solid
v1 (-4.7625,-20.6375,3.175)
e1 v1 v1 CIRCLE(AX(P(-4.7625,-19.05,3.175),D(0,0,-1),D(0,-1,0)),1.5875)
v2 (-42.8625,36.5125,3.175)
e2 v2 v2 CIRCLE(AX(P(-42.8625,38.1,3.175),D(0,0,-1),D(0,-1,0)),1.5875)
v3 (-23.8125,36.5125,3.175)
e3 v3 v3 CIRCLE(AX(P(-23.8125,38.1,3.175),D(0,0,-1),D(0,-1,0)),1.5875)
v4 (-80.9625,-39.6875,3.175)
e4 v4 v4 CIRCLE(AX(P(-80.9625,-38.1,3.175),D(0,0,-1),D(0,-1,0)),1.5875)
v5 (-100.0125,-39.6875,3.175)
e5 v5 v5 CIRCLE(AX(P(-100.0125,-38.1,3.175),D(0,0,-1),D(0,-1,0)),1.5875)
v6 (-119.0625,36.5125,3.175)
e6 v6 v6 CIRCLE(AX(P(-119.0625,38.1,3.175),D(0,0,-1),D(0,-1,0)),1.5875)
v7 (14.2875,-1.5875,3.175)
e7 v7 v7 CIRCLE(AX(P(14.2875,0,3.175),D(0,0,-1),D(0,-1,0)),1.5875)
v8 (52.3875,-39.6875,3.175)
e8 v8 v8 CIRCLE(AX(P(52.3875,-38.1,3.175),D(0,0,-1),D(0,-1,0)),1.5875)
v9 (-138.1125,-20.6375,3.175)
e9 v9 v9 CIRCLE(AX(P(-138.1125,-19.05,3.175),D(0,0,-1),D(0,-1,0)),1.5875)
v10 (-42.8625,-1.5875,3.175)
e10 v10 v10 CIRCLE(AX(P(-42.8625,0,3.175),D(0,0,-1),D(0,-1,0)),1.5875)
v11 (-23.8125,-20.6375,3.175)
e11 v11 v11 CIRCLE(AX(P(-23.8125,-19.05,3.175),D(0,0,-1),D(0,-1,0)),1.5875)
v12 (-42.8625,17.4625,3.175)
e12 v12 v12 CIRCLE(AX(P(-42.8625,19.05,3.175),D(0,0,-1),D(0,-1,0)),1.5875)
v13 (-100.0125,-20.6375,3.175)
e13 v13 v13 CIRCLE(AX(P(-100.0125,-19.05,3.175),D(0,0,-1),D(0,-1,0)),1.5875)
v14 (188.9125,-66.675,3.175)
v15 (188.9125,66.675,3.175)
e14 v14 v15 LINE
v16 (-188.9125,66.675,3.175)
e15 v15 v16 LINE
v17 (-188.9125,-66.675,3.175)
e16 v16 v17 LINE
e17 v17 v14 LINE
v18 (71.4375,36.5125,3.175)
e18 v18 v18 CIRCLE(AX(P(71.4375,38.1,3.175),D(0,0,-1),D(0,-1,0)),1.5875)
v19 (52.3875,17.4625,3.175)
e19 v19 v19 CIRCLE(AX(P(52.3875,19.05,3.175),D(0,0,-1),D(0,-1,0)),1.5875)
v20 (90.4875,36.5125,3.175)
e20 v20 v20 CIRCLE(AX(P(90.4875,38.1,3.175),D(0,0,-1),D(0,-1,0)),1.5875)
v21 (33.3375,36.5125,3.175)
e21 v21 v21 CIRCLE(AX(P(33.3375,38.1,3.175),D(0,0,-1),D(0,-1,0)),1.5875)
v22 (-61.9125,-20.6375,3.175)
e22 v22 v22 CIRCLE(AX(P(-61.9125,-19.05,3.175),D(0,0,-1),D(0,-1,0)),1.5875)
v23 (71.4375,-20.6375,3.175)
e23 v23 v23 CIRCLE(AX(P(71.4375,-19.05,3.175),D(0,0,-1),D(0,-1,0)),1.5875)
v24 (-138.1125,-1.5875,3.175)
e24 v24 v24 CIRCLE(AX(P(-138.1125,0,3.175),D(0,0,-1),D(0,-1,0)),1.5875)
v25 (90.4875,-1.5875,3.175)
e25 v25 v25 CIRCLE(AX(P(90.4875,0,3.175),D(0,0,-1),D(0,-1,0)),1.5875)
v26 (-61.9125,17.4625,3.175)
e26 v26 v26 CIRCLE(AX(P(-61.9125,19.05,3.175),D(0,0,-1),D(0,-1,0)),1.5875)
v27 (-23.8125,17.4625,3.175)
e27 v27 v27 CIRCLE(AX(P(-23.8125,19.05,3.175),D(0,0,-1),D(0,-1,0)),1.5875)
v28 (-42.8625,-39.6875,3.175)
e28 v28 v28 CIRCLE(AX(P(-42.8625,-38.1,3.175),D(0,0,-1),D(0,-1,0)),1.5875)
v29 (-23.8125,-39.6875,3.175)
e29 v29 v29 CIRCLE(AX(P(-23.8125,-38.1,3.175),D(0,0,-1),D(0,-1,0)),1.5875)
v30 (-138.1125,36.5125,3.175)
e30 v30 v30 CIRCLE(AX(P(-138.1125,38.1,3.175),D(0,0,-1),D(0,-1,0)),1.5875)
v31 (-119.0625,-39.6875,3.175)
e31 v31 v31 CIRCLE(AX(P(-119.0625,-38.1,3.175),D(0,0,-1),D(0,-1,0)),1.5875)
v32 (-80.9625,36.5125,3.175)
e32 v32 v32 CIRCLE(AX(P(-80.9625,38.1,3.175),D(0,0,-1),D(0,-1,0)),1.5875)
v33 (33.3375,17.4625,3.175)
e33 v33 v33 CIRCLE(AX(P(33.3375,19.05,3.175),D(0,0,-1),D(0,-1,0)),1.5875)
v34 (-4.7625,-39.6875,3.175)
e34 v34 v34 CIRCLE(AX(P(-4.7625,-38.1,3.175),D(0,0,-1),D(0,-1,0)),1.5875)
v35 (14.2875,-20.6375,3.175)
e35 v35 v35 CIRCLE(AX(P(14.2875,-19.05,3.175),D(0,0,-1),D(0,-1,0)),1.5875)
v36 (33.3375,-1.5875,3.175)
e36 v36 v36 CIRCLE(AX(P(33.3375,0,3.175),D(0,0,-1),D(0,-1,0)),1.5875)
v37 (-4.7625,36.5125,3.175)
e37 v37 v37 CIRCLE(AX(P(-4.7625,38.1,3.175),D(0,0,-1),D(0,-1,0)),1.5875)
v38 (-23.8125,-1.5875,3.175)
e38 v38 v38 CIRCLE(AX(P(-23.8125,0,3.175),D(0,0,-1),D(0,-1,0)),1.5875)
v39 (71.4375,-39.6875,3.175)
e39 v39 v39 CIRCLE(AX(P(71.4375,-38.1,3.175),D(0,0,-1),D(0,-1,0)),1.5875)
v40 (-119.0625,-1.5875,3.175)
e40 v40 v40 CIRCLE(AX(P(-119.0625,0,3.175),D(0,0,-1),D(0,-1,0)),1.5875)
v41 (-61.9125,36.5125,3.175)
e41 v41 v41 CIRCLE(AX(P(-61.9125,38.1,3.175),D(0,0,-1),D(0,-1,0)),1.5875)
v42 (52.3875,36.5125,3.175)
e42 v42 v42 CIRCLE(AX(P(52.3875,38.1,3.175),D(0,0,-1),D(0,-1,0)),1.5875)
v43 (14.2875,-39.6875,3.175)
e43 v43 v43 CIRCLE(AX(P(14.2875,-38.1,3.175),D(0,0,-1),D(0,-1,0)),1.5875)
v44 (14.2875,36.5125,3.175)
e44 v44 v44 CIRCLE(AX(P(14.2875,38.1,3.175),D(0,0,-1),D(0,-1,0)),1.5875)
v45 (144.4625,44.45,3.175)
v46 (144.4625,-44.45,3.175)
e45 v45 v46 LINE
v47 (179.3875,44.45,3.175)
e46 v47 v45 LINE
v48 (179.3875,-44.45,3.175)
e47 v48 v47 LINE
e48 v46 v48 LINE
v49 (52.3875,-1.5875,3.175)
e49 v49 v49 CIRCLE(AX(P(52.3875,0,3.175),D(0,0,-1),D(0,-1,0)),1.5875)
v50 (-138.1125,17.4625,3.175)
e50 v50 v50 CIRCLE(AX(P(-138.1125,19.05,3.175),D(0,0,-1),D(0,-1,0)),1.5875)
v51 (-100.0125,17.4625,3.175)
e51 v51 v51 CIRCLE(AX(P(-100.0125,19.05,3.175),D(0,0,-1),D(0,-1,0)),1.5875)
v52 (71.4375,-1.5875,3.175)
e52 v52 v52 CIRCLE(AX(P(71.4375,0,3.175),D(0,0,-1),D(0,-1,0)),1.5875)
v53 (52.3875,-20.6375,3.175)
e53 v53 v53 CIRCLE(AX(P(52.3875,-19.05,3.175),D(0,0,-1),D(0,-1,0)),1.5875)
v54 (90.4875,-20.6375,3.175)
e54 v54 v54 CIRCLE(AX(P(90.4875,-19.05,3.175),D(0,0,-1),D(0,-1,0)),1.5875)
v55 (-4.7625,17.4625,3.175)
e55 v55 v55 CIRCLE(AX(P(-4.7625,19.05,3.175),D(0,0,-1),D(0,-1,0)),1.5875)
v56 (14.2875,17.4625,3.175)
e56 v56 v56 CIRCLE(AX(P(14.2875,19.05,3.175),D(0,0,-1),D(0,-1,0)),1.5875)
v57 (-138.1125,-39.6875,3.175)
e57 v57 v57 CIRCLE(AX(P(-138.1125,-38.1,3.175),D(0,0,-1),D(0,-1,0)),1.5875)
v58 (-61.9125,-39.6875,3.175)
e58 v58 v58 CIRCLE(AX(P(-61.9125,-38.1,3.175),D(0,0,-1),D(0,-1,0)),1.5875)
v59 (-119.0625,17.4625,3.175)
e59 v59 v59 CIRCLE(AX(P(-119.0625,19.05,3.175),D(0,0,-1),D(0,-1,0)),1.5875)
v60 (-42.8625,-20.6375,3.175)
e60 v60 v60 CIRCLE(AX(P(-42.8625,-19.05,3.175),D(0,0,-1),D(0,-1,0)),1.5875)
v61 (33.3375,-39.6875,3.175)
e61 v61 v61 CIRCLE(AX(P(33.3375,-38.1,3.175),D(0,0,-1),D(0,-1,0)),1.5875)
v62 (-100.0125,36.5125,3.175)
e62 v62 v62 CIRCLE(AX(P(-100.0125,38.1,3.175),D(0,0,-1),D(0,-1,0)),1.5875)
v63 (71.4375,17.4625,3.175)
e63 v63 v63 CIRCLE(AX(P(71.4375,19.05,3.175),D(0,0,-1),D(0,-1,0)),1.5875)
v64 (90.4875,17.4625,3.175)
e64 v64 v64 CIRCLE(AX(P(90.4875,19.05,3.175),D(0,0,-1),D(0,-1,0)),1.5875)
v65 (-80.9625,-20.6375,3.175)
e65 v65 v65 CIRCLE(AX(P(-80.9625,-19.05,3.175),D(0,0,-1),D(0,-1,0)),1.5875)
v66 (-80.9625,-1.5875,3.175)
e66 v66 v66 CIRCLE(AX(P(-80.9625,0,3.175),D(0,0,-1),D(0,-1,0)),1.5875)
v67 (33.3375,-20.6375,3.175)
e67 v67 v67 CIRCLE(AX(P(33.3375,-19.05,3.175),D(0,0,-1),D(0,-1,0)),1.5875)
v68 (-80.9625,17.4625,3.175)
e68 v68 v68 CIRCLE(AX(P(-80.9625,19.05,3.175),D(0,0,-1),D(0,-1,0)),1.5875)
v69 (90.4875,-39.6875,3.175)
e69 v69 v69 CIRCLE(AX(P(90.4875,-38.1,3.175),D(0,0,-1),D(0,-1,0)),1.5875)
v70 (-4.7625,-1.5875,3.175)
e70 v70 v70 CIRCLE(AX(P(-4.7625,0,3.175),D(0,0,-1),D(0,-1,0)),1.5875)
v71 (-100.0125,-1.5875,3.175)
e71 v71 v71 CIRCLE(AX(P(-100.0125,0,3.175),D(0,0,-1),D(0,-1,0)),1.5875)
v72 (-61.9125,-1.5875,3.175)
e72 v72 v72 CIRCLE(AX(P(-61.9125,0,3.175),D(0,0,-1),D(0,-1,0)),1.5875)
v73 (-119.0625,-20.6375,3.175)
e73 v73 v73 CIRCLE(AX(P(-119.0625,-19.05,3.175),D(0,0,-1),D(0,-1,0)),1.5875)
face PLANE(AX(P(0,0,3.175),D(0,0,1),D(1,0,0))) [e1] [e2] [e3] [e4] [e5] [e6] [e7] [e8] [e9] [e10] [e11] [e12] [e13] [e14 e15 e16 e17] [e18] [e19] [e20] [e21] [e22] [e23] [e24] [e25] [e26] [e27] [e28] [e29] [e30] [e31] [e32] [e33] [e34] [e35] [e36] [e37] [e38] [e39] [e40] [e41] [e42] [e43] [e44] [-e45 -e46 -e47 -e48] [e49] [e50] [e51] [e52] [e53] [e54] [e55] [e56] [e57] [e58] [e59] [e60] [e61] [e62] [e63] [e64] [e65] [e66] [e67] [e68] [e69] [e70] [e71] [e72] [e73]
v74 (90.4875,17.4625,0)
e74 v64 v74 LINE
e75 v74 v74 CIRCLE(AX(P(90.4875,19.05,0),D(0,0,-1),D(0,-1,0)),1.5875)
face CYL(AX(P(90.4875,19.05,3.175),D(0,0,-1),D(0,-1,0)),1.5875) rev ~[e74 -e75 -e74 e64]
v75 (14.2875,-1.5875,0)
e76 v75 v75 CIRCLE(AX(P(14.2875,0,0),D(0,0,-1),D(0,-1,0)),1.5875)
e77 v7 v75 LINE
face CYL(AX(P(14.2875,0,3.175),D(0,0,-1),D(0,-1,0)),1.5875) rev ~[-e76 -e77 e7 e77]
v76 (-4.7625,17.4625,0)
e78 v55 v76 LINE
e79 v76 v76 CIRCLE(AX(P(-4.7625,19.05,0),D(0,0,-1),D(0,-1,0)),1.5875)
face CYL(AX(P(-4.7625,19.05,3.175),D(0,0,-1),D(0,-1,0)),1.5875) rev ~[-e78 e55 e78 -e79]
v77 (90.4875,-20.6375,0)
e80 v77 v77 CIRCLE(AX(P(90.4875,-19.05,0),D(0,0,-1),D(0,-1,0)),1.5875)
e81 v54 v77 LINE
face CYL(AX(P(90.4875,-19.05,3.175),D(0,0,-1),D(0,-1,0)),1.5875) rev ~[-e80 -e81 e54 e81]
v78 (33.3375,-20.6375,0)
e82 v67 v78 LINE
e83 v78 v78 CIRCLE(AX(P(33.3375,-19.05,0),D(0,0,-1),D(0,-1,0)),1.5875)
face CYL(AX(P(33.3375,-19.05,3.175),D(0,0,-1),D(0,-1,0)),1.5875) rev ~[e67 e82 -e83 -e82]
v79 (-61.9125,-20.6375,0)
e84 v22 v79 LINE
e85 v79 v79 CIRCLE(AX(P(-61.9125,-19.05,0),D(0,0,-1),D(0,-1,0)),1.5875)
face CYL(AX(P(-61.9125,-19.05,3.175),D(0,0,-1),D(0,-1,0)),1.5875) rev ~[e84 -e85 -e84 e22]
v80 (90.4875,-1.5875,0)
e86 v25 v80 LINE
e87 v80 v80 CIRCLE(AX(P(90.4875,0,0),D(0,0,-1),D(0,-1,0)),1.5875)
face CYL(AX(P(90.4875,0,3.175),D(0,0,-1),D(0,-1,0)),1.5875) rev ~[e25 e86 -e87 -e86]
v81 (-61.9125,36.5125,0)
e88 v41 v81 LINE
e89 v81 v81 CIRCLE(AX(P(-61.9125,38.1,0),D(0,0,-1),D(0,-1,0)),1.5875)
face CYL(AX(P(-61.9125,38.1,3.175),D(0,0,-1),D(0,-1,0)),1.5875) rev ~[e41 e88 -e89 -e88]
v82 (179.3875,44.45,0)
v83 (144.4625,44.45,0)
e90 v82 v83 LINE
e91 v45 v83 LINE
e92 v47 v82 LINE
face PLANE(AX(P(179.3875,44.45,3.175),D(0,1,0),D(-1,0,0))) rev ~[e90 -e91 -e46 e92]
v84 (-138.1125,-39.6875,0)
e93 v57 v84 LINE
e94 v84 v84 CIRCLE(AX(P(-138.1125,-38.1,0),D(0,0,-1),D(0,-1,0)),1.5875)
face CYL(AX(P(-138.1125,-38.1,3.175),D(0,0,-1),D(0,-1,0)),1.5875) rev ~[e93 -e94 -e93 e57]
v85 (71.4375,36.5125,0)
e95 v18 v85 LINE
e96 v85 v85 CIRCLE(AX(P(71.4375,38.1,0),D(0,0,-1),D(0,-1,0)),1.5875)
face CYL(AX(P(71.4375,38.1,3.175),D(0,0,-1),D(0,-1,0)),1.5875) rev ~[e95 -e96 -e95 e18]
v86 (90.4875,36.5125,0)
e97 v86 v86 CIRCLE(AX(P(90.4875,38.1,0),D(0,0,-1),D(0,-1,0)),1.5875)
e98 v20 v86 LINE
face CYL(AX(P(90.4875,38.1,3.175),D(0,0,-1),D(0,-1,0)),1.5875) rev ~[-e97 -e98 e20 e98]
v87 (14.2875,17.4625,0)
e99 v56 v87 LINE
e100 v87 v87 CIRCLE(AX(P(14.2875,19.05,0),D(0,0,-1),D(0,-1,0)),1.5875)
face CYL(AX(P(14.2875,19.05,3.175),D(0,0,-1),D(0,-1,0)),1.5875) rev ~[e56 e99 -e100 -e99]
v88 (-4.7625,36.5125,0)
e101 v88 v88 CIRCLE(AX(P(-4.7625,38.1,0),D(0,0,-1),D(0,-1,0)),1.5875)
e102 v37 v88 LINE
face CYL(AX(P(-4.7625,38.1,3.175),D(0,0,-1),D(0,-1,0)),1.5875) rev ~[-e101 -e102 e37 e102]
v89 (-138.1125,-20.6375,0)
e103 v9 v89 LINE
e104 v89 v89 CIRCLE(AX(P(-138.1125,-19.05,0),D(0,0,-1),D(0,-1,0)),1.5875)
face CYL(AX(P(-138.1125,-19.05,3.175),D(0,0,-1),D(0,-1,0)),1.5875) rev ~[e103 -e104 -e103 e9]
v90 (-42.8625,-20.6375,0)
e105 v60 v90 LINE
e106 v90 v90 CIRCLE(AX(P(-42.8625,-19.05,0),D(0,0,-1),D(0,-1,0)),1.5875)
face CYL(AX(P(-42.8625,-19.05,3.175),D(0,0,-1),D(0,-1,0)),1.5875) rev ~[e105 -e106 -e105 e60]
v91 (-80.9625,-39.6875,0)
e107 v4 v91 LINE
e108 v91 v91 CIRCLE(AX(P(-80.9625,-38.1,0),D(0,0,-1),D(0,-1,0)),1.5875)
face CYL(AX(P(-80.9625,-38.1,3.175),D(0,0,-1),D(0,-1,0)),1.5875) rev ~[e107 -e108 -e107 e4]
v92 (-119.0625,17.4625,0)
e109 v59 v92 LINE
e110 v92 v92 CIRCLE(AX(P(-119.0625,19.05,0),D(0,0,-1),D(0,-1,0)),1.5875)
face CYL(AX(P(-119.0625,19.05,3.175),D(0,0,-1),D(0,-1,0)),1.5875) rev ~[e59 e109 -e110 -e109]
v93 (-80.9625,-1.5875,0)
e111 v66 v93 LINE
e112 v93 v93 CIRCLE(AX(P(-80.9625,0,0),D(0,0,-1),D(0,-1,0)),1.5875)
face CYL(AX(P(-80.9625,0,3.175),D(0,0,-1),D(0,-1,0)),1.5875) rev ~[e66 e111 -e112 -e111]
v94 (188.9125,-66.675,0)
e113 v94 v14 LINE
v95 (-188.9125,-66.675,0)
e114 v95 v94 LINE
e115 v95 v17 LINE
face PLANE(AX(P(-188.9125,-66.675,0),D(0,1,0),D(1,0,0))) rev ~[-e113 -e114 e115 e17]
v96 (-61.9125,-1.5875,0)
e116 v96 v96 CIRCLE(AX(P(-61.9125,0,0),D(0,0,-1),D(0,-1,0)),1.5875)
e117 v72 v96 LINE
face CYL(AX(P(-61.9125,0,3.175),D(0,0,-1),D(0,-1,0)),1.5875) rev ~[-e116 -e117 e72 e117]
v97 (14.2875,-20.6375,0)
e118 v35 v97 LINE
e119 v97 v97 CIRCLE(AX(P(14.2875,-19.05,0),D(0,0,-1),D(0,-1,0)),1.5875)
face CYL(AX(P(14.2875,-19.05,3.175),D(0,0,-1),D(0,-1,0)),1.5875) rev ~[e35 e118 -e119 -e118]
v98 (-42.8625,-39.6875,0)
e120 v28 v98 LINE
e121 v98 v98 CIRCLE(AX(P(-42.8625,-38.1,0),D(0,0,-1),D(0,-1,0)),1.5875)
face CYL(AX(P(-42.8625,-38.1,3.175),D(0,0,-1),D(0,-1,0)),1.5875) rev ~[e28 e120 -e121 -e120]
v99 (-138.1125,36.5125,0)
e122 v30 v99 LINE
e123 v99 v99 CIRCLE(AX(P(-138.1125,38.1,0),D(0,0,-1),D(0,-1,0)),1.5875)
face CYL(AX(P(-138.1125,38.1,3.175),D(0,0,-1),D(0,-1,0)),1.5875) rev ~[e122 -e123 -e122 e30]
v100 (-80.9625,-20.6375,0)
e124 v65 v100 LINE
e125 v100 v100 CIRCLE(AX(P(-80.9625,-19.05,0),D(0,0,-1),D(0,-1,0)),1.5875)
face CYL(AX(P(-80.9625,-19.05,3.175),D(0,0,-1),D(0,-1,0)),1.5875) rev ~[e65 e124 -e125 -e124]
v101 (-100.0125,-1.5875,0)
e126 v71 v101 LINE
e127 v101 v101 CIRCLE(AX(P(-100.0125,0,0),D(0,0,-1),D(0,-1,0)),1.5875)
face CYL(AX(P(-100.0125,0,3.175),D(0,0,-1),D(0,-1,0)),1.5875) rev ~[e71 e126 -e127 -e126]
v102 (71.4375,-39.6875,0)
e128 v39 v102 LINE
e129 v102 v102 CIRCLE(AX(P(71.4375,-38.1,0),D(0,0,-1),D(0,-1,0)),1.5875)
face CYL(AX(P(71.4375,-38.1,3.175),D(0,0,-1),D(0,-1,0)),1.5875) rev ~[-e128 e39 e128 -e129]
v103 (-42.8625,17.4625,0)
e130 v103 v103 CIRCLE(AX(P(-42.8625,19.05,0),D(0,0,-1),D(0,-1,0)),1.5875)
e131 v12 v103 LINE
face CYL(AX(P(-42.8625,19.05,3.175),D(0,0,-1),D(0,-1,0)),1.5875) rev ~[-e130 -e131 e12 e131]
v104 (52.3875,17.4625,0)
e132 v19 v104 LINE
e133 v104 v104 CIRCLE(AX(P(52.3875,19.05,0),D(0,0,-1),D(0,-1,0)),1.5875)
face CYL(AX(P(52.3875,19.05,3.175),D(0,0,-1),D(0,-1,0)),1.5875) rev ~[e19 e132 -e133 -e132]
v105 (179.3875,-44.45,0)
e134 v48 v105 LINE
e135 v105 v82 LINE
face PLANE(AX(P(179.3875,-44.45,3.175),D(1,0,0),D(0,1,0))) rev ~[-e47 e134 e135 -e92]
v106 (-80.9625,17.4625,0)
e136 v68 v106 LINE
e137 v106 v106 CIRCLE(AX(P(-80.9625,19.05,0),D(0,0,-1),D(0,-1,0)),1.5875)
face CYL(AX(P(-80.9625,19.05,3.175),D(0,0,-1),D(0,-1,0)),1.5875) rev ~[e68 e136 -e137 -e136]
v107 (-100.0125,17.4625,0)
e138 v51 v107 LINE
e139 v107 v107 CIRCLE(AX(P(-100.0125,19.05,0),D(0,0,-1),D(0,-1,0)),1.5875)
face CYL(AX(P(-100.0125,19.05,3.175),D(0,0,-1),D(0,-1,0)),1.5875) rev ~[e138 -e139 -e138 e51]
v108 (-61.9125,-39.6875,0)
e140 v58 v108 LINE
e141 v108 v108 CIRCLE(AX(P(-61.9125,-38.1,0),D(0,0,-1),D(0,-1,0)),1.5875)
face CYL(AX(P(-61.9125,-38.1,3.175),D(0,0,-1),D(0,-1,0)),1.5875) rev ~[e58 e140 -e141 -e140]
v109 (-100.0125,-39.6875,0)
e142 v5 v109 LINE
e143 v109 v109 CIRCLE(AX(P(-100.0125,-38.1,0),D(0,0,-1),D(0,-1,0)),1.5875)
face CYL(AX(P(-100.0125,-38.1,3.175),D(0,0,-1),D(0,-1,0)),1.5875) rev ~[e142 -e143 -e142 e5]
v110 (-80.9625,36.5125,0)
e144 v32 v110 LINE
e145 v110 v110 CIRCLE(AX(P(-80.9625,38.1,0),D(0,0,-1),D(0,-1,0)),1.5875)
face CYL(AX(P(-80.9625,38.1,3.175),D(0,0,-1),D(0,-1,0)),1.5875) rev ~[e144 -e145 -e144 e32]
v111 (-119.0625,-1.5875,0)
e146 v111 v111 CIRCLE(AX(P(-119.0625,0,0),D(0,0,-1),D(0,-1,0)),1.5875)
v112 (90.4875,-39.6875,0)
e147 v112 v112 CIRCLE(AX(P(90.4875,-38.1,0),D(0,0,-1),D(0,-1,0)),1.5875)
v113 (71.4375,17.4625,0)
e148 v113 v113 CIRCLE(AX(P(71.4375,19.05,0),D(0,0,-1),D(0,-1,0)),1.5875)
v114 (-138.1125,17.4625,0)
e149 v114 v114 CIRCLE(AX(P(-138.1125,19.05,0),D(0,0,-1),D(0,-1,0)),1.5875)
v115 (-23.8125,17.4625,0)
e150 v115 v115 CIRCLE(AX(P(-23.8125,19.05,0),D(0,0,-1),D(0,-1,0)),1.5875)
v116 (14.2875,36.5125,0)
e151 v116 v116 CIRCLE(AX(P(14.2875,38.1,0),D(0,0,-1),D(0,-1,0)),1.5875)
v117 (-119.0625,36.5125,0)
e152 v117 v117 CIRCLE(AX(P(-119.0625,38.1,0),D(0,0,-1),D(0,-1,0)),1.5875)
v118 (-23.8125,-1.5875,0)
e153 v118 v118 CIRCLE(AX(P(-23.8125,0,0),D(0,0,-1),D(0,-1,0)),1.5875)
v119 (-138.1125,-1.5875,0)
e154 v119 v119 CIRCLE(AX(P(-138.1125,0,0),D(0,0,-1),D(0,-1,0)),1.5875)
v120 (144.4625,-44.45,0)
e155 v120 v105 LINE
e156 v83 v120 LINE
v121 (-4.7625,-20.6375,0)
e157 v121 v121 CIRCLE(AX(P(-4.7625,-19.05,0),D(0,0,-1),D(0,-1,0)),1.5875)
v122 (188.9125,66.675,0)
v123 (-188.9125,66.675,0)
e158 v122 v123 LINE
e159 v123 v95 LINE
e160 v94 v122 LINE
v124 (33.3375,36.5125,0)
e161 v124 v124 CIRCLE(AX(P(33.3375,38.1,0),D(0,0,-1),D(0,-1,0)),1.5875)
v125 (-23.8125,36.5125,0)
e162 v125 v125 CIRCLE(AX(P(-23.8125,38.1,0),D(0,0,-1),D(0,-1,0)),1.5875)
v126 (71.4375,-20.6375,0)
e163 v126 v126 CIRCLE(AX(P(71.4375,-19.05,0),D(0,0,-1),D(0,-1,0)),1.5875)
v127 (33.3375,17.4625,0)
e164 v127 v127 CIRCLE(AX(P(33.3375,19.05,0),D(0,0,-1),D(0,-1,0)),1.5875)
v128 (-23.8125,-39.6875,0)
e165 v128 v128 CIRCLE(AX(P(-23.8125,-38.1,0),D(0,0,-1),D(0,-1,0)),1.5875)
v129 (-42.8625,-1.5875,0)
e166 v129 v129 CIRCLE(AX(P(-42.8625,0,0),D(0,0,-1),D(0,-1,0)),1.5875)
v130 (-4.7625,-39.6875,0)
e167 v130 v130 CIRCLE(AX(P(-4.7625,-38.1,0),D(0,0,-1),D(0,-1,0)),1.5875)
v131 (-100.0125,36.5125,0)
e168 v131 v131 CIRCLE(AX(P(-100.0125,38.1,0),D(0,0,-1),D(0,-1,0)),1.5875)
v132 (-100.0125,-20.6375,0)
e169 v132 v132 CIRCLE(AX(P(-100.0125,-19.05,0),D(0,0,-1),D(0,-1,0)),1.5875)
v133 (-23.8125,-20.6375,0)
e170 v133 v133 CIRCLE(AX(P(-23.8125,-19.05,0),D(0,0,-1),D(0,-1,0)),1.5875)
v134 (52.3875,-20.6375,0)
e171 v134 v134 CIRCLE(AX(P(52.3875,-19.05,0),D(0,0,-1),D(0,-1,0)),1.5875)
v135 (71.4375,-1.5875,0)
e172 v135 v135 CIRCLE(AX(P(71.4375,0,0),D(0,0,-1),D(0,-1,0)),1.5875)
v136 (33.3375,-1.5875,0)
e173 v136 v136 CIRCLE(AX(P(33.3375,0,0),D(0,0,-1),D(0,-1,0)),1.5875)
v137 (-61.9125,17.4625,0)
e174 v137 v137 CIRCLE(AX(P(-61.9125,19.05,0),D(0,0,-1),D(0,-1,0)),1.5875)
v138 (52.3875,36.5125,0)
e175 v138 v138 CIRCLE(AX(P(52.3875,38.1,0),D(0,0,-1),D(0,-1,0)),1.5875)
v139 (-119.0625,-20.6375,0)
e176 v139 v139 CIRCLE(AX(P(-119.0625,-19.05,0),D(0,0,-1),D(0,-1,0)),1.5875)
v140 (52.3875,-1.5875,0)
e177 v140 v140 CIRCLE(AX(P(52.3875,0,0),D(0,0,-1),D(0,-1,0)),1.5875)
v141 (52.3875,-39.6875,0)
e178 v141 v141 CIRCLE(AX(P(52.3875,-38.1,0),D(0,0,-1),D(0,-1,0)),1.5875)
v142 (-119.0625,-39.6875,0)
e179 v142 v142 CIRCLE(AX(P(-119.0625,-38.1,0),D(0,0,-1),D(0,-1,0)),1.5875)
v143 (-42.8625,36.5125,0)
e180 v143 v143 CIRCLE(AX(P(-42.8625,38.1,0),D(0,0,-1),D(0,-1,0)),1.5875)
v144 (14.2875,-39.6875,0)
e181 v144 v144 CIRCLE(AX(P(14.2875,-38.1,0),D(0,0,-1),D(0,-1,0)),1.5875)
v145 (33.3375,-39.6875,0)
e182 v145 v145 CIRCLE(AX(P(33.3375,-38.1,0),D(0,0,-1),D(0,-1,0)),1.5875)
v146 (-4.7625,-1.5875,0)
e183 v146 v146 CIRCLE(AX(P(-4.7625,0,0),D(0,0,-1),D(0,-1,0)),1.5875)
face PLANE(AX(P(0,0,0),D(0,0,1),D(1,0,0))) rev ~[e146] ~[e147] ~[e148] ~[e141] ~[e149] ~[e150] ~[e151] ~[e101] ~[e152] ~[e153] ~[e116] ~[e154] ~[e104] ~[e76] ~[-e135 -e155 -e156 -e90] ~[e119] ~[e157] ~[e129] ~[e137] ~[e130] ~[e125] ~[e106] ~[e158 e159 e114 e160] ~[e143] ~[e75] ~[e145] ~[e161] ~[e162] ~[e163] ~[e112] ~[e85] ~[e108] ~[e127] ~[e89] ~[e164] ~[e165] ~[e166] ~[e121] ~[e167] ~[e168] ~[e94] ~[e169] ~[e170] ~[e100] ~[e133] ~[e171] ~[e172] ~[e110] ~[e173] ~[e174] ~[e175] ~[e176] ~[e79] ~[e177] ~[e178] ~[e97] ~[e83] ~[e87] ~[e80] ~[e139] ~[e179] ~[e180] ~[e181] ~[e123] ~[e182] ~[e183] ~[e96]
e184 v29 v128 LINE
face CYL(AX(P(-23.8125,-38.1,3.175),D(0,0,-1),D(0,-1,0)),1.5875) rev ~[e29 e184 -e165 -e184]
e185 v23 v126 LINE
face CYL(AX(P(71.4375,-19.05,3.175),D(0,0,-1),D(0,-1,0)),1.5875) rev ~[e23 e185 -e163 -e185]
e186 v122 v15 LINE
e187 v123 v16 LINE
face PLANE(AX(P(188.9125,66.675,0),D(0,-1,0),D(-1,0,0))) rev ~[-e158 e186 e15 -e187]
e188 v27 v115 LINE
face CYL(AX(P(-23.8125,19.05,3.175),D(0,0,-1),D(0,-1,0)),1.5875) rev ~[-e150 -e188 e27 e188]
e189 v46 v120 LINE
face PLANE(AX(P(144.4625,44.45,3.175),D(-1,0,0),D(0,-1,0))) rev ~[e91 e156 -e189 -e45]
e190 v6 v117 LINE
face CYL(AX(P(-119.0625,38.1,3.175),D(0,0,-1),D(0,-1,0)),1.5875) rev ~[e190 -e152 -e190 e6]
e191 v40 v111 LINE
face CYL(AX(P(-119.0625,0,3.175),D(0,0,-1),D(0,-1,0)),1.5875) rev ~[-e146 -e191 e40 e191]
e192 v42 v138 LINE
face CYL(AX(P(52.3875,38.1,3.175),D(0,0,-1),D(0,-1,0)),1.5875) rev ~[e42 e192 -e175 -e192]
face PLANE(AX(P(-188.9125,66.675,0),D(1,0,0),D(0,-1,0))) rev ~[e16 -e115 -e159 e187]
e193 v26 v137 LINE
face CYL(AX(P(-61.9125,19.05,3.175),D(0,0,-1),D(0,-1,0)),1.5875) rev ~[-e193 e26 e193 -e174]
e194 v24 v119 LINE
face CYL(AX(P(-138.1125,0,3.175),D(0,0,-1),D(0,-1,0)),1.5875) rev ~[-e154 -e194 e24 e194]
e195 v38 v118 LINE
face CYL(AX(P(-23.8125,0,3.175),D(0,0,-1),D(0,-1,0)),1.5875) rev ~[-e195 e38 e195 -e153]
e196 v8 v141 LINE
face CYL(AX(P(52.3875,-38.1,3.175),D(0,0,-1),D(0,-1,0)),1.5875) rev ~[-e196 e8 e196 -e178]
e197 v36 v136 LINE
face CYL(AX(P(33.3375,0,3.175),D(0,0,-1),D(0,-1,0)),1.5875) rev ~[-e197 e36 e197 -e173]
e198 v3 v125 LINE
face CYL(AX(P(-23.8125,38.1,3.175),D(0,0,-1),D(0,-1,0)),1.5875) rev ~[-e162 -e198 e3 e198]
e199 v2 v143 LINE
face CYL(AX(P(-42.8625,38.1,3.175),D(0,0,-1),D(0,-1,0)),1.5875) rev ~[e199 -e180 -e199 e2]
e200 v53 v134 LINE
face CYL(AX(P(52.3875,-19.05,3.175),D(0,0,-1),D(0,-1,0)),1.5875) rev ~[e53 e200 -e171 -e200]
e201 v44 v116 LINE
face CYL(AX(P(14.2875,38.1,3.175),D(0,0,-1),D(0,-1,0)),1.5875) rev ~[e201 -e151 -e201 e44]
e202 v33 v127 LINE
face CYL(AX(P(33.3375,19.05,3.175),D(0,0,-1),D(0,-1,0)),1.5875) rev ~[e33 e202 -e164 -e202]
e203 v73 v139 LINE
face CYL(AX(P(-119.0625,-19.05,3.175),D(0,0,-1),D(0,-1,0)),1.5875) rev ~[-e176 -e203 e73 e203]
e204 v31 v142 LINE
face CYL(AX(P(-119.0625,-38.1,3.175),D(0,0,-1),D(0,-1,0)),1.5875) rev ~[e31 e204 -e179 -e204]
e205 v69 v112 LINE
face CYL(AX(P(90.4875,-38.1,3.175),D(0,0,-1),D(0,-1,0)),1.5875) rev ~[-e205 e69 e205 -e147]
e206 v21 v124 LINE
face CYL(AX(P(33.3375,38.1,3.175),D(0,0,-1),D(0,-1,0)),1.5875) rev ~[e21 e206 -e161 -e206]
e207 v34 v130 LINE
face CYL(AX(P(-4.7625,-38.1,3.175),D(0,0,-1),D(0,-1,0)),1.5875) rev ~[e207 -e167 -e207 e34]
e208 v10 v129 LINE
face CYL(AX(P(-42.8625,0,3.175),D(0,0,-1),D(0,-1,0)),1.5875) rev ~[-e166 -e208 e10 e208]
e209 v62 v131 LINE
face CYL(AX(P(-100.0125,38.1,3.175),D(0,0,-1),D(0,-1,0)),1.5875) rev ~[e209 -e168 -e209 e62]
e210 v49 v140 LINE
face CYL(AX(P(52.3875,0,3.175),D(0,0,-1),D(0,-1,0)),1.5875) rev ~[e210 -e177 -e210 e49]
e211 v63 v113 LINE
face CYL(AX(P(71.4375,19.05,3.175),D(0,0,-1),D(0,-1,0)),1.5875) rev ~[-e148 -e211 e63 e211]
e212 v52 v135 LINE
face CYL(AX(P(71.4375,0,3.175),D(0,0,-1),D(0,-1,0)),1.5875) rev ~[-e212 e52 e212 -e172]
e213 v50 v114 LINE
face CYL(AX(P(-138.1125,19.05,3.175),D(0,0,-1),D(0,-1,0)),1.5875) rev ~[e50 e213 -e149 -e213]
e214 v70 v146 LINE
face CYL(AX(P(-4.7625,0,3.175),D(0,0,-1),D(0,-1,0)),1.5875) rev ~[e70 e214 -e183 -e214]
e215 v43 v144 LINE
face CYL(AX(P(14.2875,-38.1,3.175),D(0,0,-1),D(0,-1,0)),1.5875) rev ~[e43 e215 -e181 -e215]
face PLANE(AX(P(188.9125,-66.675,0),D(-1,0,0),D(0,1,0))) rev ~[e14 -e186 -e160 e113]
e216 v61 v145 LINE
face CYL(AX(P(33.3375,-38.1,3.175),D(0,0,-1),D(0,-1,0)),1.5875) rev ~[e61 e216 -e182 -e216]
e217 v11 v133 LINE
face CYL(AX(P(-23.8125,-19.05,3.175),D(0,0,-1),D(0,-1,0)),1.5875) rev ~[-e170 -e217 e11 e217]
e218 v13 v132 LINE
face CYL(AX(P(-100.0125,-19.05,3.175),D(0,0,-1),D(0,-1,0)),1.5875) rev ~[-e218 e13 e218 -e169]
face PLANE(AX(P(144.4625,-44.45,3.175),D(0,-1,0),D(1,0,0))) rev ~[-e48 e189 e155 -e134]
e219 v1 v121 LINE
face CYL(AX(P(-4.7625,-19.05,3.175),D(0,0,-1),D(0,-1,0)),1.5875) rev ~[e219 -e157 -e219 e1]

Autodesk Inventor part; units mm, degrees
ref_plane "YZ Plane" through (0, 0, 0) normal (1, 0, 0) x (0, 1, 0)
ref_plane "XZ Plane" through (0, 0, 0) normal (0, 1, 0) x (-1, 0, 0)
ref_plane "XY Plane" through (0, 0, 0) normal (0, 0, 1) x (1, 0, 0)
sketch "Sketch1" plane through (0, 0, 0) normal (0, 0, 1) x (1, 0, 0)
  line L0 (-188.9125, -66.675) -> (188.9125, -66.675)
  line L1 (188.9125, -66.675) -> (188.9125, 66.675)
  line L2 (188.9125, 66.675) -> (-188.9125, 66.675)
  line L3 (-188.9125, 66.675) -> (-188.9125, -66.675)
  line L4 (-188.9125, -66.675) -> (188.9125, 66.675) construction
  line L5 (188.9125, -66.675) -> (-188.9125, 66.675) construction
  point P0 (0, 0)
  dimension "d0" = 133.35
  dimension "d1" = 377.825
extrude "Extrusion1" add sketch "Sketch1" along normal blind 3.175
sketch "Sketch2" plane through (0, 0, 3.175) normal (0, 0, 1) x (1, 0, 0)
  line L0 (-138.1125, -41.275) -> (87.3125, -41.275)
  line L1 (87.3125, -41.275) -> (87.3125, 41.275)
  line L2 (87.3125, 41.275) -> (-138.1125, 41.275)
  line L3 (-138.1125, 41.275) -> (-138.1125, -41.275)
  line L4 (-188.9125, -66.675) -> (188.9125, -66.675) projected
  line L5 (188.9125, 66.675) -> (-188.9125, 66.675) projected
  line L6 (-188.9125, 66.675) -> (-188.9125, -66.675) projected
  line L7 (188.9125, -66.675) -> (188.9125, 66.675) projected
  point P0 (0, 0)
  point P1 (-138.1125, 19.05)
  point P2 (-138.1125, -19.05)
  point P3 (-138.1125, 0)
  point P4 (-119.0625, 19.05)
  point P5 (-119.0625, 0)
  point P6 (-119.0625, -19.05)
  point P7 (-100.0125, 19.05)
  point P8 (-100.0125, 0)
  point P9 (-100.0125, -19.05)
  point P10 (-80.9625, 19.05)
  point P11 (-80.9625, 0)
  point P12 (-80.9625, -19.05)
  point P13 (-61.9125, 19.05)
  point P14 (-61.9125, 0)
  point P15 (-61.9125, -19.05)
  point P16 (-42.8625, 19.05)
  point P17 (-42.8625, 0)
  point P18 (-42.8625, -19.05)
  point P19 (-23.8125, 19.05)
  point P20 (-23.8125, 0)
  point P21 (-23.8125, -19.05)
  point P22 (-4.7625, 19.05)
  point P23 (-4.7625, 0)
  point P24 (-4.7625, -19.05)
  point P25 (14.2875, 19.05)
  point P26 (14.2875, 0)
  point P27 (14.2875, -19.05)
  point P28 (33.3375, 19.05)
  point P29 (33.3375, 0)
  point P30 (33.3375, -19.05)
  point P31 (52.3875, 19.05)
  point P32 (52.3875, 0)
  point P33 (52.3875, -19.05)
  point P34 (71.4375, 19.05)
  point P35 (71.4375, 0)
  point P36 (71.4375, -19.05)
  point P37 (90.4875, 19.05)
  point P38 (90.4875, 0)
  point P39 (90.4875, -19.05)
  point P40 (-138.1125, -38.1)
  point P41 (-119.0625, -38.1)
  point P42 (-100.0125, -38.1)
  point P43 (-80.9625, -38.1)
  point P44 (-61.9125, -38.1)
  point P45 (-42.8625, -38.1)
  point P46 (-23.8125, -38.1)
  point P47 (-4.7625, -38.1)
  point P48 (14.2875, -38.1)
  point P49 (33.3375, -38.1)
  point P50 (52.3875, -38.1)
  point P51 (71.4375, -38.1)
  point P52 (90.4875, -38.1)
  point P53 (90.4875, 38.1)
  point P54 (71.4375, 38.1)
  point P55 (52.3875, 38.1)
  point P56 (33.3375, 38.1)
  point P57 (14.2875, 38.1)
  point P58 (-4.7625, 38.1)
  point P59 (-23.8125, 38.1)
  point P60 (-42.8625, 38.1)
  point P61 (-61.9125, 38.1)
  point P62 (-80.9625, 38.1)
  point P63 (-100.0125, 38.1)
  point P64 (-119.0625, 38.1)
  point P65 (-138.1125, 38.1)
  dimension "d4" = 25.4
  dimension "d5" = 25.4
  dimension "d6" = 50.8
  dimension "d7" = 101.6
  dimension "d8" = 22.225
  dimension "d9" = 0
  dimension "d10" = 22.225
  dimension "d13" = 19.05
  dimension "d33" = 19.05
  dimension "d40" = 19.05
hole "Hole1" at (-138.1125, 19.05, 3.175) at (-138.1125, -19.05, 3.175) at (-138.1125, 0, 3.175) at (-119.0625, 19.05, 3.175) at (-119.0625, 0, 3.175) at (-119.0625, -19.05, 3.175) at (-100.0125, 19.05, 3.175) at (-100.0125, 0, 3.175) at (-100.0125, -19.05, 3.175) at (-80.9625, 19.05, 3.175) at (-80.9625, 0, 3.175) at (-80.9625, -19.05, 3.175) at (-61.9125, 19.05, 3.175) at (-61.9125, 0, 3.175) at (-61.9125, -19.05, 3.175) at (-42.8625, 19.05, 3.175) at (-42.8625, 0, 3.175) at (-42.8625, -19.05, 3.175) at (-23.8125, 19.05, 3.175) at (-23.8125, 0, 3.175) at (-23.8125, -19.05, 3.175) at (-4.7625, 19.05, 3.175) at (-4.7625, 0, 3.175) at (-4.7625, -19.05, 3.175) at (14.2875, 19.05, 3.175) at (14.2875, 0, 3.175) at (14.2875, -19.05, 3.175) at (33.3375, 19.05, 3.175) at (33.3375, 0, 3.175) at (33.3375, -19.05, 3.175) at (52.3875, 19.05, 3.175) at (52.3875, 0, 3.175) at (52.3875, -19.05, 3.175) at (71.4375, 19.05, 3.175) at (71.4375, 0, 3.175) at (71.4375, -19.05, 3.175) at (90.4875, 19.05, 3.175) at (90.4875, 0, 3.175) at (90.4875, -19.05, 3.175) direction (0, 0, -1) diameter 3.175 end through all
sketch "Sketch4" plane through (0, 0, 3.175) normal (0, 0, 1) x (1, 0, 0)
  line L0 (179.3875, 44.45) -> (144.4625, 44.45)
  line L1 (144.4625, 44.45) -> (144.4625, -44.45)
  line L2 (144.4625, -44.45) -> (179.3875, -44.45)
  line L3 (179.3875, -44.45) -> (179.3875, 44.45)
  line L4 (188.9125, -66.675) -> (188.9125, 66.675) projected
  line L5 (188.9125, 66.675) -> (-188.9125, 66.675) projected
  line L6 (-188.9125, -66.675) -> (188.9125, -66.675) projected
  point P0 (0, 0)
  dimension "d25" = 9.525
  dimension "d26" = 44.45
  dimension "d27" = 22.225
  dimension "d28" = 22.225
extrude "Extrusion2" cut sketch "Sketch4" against normal blind 25.4
hole "Hole2" at (-138.1125, -38.1, 3.175) at (-119.0625, -38.1, 3.175) at (-100.0125, -38.1, 3.175) at (-80.9625, -38.1, 3.175) at (-61.9125, -38.1, 3.175) at (-42.8625, -38.1, 3.175) at (-23.8125, -38.1, 3.175) at (-4.7625, -38.1, 3.175) at (14.2875, -38.1, 3.175) at (33.3375, -38.1, 3.175) at (52.3875, -38.1, 3.175) at (71.4375, -38.1, 3.175) at (90.4875, -38.1, 3.175) at (90.4875, 38.1, 3.175) at (71.4375, 38.1, 3.175) at (52.3875, 38.1, 3.175) at (33.3375, 38.1, 3.175) at (14.2875, 38.1, 3.175) at (-4.7625, 38.1, 3.175) at (-23.8125, 38.1, 3.175) at (-42.8625, 38.1, 3.175) at (-61.9125, 38.1, 3.175) at (-80.9625, 38.1, 3.175) at (-100.0125, 38.1, 3.175) at (-119.0625, 38.1, 3.175) at (-138.1125, 38.1, 3.175) direction (0, 0, -1) diameter 3.175 end through all
properties part number "perforated side"
